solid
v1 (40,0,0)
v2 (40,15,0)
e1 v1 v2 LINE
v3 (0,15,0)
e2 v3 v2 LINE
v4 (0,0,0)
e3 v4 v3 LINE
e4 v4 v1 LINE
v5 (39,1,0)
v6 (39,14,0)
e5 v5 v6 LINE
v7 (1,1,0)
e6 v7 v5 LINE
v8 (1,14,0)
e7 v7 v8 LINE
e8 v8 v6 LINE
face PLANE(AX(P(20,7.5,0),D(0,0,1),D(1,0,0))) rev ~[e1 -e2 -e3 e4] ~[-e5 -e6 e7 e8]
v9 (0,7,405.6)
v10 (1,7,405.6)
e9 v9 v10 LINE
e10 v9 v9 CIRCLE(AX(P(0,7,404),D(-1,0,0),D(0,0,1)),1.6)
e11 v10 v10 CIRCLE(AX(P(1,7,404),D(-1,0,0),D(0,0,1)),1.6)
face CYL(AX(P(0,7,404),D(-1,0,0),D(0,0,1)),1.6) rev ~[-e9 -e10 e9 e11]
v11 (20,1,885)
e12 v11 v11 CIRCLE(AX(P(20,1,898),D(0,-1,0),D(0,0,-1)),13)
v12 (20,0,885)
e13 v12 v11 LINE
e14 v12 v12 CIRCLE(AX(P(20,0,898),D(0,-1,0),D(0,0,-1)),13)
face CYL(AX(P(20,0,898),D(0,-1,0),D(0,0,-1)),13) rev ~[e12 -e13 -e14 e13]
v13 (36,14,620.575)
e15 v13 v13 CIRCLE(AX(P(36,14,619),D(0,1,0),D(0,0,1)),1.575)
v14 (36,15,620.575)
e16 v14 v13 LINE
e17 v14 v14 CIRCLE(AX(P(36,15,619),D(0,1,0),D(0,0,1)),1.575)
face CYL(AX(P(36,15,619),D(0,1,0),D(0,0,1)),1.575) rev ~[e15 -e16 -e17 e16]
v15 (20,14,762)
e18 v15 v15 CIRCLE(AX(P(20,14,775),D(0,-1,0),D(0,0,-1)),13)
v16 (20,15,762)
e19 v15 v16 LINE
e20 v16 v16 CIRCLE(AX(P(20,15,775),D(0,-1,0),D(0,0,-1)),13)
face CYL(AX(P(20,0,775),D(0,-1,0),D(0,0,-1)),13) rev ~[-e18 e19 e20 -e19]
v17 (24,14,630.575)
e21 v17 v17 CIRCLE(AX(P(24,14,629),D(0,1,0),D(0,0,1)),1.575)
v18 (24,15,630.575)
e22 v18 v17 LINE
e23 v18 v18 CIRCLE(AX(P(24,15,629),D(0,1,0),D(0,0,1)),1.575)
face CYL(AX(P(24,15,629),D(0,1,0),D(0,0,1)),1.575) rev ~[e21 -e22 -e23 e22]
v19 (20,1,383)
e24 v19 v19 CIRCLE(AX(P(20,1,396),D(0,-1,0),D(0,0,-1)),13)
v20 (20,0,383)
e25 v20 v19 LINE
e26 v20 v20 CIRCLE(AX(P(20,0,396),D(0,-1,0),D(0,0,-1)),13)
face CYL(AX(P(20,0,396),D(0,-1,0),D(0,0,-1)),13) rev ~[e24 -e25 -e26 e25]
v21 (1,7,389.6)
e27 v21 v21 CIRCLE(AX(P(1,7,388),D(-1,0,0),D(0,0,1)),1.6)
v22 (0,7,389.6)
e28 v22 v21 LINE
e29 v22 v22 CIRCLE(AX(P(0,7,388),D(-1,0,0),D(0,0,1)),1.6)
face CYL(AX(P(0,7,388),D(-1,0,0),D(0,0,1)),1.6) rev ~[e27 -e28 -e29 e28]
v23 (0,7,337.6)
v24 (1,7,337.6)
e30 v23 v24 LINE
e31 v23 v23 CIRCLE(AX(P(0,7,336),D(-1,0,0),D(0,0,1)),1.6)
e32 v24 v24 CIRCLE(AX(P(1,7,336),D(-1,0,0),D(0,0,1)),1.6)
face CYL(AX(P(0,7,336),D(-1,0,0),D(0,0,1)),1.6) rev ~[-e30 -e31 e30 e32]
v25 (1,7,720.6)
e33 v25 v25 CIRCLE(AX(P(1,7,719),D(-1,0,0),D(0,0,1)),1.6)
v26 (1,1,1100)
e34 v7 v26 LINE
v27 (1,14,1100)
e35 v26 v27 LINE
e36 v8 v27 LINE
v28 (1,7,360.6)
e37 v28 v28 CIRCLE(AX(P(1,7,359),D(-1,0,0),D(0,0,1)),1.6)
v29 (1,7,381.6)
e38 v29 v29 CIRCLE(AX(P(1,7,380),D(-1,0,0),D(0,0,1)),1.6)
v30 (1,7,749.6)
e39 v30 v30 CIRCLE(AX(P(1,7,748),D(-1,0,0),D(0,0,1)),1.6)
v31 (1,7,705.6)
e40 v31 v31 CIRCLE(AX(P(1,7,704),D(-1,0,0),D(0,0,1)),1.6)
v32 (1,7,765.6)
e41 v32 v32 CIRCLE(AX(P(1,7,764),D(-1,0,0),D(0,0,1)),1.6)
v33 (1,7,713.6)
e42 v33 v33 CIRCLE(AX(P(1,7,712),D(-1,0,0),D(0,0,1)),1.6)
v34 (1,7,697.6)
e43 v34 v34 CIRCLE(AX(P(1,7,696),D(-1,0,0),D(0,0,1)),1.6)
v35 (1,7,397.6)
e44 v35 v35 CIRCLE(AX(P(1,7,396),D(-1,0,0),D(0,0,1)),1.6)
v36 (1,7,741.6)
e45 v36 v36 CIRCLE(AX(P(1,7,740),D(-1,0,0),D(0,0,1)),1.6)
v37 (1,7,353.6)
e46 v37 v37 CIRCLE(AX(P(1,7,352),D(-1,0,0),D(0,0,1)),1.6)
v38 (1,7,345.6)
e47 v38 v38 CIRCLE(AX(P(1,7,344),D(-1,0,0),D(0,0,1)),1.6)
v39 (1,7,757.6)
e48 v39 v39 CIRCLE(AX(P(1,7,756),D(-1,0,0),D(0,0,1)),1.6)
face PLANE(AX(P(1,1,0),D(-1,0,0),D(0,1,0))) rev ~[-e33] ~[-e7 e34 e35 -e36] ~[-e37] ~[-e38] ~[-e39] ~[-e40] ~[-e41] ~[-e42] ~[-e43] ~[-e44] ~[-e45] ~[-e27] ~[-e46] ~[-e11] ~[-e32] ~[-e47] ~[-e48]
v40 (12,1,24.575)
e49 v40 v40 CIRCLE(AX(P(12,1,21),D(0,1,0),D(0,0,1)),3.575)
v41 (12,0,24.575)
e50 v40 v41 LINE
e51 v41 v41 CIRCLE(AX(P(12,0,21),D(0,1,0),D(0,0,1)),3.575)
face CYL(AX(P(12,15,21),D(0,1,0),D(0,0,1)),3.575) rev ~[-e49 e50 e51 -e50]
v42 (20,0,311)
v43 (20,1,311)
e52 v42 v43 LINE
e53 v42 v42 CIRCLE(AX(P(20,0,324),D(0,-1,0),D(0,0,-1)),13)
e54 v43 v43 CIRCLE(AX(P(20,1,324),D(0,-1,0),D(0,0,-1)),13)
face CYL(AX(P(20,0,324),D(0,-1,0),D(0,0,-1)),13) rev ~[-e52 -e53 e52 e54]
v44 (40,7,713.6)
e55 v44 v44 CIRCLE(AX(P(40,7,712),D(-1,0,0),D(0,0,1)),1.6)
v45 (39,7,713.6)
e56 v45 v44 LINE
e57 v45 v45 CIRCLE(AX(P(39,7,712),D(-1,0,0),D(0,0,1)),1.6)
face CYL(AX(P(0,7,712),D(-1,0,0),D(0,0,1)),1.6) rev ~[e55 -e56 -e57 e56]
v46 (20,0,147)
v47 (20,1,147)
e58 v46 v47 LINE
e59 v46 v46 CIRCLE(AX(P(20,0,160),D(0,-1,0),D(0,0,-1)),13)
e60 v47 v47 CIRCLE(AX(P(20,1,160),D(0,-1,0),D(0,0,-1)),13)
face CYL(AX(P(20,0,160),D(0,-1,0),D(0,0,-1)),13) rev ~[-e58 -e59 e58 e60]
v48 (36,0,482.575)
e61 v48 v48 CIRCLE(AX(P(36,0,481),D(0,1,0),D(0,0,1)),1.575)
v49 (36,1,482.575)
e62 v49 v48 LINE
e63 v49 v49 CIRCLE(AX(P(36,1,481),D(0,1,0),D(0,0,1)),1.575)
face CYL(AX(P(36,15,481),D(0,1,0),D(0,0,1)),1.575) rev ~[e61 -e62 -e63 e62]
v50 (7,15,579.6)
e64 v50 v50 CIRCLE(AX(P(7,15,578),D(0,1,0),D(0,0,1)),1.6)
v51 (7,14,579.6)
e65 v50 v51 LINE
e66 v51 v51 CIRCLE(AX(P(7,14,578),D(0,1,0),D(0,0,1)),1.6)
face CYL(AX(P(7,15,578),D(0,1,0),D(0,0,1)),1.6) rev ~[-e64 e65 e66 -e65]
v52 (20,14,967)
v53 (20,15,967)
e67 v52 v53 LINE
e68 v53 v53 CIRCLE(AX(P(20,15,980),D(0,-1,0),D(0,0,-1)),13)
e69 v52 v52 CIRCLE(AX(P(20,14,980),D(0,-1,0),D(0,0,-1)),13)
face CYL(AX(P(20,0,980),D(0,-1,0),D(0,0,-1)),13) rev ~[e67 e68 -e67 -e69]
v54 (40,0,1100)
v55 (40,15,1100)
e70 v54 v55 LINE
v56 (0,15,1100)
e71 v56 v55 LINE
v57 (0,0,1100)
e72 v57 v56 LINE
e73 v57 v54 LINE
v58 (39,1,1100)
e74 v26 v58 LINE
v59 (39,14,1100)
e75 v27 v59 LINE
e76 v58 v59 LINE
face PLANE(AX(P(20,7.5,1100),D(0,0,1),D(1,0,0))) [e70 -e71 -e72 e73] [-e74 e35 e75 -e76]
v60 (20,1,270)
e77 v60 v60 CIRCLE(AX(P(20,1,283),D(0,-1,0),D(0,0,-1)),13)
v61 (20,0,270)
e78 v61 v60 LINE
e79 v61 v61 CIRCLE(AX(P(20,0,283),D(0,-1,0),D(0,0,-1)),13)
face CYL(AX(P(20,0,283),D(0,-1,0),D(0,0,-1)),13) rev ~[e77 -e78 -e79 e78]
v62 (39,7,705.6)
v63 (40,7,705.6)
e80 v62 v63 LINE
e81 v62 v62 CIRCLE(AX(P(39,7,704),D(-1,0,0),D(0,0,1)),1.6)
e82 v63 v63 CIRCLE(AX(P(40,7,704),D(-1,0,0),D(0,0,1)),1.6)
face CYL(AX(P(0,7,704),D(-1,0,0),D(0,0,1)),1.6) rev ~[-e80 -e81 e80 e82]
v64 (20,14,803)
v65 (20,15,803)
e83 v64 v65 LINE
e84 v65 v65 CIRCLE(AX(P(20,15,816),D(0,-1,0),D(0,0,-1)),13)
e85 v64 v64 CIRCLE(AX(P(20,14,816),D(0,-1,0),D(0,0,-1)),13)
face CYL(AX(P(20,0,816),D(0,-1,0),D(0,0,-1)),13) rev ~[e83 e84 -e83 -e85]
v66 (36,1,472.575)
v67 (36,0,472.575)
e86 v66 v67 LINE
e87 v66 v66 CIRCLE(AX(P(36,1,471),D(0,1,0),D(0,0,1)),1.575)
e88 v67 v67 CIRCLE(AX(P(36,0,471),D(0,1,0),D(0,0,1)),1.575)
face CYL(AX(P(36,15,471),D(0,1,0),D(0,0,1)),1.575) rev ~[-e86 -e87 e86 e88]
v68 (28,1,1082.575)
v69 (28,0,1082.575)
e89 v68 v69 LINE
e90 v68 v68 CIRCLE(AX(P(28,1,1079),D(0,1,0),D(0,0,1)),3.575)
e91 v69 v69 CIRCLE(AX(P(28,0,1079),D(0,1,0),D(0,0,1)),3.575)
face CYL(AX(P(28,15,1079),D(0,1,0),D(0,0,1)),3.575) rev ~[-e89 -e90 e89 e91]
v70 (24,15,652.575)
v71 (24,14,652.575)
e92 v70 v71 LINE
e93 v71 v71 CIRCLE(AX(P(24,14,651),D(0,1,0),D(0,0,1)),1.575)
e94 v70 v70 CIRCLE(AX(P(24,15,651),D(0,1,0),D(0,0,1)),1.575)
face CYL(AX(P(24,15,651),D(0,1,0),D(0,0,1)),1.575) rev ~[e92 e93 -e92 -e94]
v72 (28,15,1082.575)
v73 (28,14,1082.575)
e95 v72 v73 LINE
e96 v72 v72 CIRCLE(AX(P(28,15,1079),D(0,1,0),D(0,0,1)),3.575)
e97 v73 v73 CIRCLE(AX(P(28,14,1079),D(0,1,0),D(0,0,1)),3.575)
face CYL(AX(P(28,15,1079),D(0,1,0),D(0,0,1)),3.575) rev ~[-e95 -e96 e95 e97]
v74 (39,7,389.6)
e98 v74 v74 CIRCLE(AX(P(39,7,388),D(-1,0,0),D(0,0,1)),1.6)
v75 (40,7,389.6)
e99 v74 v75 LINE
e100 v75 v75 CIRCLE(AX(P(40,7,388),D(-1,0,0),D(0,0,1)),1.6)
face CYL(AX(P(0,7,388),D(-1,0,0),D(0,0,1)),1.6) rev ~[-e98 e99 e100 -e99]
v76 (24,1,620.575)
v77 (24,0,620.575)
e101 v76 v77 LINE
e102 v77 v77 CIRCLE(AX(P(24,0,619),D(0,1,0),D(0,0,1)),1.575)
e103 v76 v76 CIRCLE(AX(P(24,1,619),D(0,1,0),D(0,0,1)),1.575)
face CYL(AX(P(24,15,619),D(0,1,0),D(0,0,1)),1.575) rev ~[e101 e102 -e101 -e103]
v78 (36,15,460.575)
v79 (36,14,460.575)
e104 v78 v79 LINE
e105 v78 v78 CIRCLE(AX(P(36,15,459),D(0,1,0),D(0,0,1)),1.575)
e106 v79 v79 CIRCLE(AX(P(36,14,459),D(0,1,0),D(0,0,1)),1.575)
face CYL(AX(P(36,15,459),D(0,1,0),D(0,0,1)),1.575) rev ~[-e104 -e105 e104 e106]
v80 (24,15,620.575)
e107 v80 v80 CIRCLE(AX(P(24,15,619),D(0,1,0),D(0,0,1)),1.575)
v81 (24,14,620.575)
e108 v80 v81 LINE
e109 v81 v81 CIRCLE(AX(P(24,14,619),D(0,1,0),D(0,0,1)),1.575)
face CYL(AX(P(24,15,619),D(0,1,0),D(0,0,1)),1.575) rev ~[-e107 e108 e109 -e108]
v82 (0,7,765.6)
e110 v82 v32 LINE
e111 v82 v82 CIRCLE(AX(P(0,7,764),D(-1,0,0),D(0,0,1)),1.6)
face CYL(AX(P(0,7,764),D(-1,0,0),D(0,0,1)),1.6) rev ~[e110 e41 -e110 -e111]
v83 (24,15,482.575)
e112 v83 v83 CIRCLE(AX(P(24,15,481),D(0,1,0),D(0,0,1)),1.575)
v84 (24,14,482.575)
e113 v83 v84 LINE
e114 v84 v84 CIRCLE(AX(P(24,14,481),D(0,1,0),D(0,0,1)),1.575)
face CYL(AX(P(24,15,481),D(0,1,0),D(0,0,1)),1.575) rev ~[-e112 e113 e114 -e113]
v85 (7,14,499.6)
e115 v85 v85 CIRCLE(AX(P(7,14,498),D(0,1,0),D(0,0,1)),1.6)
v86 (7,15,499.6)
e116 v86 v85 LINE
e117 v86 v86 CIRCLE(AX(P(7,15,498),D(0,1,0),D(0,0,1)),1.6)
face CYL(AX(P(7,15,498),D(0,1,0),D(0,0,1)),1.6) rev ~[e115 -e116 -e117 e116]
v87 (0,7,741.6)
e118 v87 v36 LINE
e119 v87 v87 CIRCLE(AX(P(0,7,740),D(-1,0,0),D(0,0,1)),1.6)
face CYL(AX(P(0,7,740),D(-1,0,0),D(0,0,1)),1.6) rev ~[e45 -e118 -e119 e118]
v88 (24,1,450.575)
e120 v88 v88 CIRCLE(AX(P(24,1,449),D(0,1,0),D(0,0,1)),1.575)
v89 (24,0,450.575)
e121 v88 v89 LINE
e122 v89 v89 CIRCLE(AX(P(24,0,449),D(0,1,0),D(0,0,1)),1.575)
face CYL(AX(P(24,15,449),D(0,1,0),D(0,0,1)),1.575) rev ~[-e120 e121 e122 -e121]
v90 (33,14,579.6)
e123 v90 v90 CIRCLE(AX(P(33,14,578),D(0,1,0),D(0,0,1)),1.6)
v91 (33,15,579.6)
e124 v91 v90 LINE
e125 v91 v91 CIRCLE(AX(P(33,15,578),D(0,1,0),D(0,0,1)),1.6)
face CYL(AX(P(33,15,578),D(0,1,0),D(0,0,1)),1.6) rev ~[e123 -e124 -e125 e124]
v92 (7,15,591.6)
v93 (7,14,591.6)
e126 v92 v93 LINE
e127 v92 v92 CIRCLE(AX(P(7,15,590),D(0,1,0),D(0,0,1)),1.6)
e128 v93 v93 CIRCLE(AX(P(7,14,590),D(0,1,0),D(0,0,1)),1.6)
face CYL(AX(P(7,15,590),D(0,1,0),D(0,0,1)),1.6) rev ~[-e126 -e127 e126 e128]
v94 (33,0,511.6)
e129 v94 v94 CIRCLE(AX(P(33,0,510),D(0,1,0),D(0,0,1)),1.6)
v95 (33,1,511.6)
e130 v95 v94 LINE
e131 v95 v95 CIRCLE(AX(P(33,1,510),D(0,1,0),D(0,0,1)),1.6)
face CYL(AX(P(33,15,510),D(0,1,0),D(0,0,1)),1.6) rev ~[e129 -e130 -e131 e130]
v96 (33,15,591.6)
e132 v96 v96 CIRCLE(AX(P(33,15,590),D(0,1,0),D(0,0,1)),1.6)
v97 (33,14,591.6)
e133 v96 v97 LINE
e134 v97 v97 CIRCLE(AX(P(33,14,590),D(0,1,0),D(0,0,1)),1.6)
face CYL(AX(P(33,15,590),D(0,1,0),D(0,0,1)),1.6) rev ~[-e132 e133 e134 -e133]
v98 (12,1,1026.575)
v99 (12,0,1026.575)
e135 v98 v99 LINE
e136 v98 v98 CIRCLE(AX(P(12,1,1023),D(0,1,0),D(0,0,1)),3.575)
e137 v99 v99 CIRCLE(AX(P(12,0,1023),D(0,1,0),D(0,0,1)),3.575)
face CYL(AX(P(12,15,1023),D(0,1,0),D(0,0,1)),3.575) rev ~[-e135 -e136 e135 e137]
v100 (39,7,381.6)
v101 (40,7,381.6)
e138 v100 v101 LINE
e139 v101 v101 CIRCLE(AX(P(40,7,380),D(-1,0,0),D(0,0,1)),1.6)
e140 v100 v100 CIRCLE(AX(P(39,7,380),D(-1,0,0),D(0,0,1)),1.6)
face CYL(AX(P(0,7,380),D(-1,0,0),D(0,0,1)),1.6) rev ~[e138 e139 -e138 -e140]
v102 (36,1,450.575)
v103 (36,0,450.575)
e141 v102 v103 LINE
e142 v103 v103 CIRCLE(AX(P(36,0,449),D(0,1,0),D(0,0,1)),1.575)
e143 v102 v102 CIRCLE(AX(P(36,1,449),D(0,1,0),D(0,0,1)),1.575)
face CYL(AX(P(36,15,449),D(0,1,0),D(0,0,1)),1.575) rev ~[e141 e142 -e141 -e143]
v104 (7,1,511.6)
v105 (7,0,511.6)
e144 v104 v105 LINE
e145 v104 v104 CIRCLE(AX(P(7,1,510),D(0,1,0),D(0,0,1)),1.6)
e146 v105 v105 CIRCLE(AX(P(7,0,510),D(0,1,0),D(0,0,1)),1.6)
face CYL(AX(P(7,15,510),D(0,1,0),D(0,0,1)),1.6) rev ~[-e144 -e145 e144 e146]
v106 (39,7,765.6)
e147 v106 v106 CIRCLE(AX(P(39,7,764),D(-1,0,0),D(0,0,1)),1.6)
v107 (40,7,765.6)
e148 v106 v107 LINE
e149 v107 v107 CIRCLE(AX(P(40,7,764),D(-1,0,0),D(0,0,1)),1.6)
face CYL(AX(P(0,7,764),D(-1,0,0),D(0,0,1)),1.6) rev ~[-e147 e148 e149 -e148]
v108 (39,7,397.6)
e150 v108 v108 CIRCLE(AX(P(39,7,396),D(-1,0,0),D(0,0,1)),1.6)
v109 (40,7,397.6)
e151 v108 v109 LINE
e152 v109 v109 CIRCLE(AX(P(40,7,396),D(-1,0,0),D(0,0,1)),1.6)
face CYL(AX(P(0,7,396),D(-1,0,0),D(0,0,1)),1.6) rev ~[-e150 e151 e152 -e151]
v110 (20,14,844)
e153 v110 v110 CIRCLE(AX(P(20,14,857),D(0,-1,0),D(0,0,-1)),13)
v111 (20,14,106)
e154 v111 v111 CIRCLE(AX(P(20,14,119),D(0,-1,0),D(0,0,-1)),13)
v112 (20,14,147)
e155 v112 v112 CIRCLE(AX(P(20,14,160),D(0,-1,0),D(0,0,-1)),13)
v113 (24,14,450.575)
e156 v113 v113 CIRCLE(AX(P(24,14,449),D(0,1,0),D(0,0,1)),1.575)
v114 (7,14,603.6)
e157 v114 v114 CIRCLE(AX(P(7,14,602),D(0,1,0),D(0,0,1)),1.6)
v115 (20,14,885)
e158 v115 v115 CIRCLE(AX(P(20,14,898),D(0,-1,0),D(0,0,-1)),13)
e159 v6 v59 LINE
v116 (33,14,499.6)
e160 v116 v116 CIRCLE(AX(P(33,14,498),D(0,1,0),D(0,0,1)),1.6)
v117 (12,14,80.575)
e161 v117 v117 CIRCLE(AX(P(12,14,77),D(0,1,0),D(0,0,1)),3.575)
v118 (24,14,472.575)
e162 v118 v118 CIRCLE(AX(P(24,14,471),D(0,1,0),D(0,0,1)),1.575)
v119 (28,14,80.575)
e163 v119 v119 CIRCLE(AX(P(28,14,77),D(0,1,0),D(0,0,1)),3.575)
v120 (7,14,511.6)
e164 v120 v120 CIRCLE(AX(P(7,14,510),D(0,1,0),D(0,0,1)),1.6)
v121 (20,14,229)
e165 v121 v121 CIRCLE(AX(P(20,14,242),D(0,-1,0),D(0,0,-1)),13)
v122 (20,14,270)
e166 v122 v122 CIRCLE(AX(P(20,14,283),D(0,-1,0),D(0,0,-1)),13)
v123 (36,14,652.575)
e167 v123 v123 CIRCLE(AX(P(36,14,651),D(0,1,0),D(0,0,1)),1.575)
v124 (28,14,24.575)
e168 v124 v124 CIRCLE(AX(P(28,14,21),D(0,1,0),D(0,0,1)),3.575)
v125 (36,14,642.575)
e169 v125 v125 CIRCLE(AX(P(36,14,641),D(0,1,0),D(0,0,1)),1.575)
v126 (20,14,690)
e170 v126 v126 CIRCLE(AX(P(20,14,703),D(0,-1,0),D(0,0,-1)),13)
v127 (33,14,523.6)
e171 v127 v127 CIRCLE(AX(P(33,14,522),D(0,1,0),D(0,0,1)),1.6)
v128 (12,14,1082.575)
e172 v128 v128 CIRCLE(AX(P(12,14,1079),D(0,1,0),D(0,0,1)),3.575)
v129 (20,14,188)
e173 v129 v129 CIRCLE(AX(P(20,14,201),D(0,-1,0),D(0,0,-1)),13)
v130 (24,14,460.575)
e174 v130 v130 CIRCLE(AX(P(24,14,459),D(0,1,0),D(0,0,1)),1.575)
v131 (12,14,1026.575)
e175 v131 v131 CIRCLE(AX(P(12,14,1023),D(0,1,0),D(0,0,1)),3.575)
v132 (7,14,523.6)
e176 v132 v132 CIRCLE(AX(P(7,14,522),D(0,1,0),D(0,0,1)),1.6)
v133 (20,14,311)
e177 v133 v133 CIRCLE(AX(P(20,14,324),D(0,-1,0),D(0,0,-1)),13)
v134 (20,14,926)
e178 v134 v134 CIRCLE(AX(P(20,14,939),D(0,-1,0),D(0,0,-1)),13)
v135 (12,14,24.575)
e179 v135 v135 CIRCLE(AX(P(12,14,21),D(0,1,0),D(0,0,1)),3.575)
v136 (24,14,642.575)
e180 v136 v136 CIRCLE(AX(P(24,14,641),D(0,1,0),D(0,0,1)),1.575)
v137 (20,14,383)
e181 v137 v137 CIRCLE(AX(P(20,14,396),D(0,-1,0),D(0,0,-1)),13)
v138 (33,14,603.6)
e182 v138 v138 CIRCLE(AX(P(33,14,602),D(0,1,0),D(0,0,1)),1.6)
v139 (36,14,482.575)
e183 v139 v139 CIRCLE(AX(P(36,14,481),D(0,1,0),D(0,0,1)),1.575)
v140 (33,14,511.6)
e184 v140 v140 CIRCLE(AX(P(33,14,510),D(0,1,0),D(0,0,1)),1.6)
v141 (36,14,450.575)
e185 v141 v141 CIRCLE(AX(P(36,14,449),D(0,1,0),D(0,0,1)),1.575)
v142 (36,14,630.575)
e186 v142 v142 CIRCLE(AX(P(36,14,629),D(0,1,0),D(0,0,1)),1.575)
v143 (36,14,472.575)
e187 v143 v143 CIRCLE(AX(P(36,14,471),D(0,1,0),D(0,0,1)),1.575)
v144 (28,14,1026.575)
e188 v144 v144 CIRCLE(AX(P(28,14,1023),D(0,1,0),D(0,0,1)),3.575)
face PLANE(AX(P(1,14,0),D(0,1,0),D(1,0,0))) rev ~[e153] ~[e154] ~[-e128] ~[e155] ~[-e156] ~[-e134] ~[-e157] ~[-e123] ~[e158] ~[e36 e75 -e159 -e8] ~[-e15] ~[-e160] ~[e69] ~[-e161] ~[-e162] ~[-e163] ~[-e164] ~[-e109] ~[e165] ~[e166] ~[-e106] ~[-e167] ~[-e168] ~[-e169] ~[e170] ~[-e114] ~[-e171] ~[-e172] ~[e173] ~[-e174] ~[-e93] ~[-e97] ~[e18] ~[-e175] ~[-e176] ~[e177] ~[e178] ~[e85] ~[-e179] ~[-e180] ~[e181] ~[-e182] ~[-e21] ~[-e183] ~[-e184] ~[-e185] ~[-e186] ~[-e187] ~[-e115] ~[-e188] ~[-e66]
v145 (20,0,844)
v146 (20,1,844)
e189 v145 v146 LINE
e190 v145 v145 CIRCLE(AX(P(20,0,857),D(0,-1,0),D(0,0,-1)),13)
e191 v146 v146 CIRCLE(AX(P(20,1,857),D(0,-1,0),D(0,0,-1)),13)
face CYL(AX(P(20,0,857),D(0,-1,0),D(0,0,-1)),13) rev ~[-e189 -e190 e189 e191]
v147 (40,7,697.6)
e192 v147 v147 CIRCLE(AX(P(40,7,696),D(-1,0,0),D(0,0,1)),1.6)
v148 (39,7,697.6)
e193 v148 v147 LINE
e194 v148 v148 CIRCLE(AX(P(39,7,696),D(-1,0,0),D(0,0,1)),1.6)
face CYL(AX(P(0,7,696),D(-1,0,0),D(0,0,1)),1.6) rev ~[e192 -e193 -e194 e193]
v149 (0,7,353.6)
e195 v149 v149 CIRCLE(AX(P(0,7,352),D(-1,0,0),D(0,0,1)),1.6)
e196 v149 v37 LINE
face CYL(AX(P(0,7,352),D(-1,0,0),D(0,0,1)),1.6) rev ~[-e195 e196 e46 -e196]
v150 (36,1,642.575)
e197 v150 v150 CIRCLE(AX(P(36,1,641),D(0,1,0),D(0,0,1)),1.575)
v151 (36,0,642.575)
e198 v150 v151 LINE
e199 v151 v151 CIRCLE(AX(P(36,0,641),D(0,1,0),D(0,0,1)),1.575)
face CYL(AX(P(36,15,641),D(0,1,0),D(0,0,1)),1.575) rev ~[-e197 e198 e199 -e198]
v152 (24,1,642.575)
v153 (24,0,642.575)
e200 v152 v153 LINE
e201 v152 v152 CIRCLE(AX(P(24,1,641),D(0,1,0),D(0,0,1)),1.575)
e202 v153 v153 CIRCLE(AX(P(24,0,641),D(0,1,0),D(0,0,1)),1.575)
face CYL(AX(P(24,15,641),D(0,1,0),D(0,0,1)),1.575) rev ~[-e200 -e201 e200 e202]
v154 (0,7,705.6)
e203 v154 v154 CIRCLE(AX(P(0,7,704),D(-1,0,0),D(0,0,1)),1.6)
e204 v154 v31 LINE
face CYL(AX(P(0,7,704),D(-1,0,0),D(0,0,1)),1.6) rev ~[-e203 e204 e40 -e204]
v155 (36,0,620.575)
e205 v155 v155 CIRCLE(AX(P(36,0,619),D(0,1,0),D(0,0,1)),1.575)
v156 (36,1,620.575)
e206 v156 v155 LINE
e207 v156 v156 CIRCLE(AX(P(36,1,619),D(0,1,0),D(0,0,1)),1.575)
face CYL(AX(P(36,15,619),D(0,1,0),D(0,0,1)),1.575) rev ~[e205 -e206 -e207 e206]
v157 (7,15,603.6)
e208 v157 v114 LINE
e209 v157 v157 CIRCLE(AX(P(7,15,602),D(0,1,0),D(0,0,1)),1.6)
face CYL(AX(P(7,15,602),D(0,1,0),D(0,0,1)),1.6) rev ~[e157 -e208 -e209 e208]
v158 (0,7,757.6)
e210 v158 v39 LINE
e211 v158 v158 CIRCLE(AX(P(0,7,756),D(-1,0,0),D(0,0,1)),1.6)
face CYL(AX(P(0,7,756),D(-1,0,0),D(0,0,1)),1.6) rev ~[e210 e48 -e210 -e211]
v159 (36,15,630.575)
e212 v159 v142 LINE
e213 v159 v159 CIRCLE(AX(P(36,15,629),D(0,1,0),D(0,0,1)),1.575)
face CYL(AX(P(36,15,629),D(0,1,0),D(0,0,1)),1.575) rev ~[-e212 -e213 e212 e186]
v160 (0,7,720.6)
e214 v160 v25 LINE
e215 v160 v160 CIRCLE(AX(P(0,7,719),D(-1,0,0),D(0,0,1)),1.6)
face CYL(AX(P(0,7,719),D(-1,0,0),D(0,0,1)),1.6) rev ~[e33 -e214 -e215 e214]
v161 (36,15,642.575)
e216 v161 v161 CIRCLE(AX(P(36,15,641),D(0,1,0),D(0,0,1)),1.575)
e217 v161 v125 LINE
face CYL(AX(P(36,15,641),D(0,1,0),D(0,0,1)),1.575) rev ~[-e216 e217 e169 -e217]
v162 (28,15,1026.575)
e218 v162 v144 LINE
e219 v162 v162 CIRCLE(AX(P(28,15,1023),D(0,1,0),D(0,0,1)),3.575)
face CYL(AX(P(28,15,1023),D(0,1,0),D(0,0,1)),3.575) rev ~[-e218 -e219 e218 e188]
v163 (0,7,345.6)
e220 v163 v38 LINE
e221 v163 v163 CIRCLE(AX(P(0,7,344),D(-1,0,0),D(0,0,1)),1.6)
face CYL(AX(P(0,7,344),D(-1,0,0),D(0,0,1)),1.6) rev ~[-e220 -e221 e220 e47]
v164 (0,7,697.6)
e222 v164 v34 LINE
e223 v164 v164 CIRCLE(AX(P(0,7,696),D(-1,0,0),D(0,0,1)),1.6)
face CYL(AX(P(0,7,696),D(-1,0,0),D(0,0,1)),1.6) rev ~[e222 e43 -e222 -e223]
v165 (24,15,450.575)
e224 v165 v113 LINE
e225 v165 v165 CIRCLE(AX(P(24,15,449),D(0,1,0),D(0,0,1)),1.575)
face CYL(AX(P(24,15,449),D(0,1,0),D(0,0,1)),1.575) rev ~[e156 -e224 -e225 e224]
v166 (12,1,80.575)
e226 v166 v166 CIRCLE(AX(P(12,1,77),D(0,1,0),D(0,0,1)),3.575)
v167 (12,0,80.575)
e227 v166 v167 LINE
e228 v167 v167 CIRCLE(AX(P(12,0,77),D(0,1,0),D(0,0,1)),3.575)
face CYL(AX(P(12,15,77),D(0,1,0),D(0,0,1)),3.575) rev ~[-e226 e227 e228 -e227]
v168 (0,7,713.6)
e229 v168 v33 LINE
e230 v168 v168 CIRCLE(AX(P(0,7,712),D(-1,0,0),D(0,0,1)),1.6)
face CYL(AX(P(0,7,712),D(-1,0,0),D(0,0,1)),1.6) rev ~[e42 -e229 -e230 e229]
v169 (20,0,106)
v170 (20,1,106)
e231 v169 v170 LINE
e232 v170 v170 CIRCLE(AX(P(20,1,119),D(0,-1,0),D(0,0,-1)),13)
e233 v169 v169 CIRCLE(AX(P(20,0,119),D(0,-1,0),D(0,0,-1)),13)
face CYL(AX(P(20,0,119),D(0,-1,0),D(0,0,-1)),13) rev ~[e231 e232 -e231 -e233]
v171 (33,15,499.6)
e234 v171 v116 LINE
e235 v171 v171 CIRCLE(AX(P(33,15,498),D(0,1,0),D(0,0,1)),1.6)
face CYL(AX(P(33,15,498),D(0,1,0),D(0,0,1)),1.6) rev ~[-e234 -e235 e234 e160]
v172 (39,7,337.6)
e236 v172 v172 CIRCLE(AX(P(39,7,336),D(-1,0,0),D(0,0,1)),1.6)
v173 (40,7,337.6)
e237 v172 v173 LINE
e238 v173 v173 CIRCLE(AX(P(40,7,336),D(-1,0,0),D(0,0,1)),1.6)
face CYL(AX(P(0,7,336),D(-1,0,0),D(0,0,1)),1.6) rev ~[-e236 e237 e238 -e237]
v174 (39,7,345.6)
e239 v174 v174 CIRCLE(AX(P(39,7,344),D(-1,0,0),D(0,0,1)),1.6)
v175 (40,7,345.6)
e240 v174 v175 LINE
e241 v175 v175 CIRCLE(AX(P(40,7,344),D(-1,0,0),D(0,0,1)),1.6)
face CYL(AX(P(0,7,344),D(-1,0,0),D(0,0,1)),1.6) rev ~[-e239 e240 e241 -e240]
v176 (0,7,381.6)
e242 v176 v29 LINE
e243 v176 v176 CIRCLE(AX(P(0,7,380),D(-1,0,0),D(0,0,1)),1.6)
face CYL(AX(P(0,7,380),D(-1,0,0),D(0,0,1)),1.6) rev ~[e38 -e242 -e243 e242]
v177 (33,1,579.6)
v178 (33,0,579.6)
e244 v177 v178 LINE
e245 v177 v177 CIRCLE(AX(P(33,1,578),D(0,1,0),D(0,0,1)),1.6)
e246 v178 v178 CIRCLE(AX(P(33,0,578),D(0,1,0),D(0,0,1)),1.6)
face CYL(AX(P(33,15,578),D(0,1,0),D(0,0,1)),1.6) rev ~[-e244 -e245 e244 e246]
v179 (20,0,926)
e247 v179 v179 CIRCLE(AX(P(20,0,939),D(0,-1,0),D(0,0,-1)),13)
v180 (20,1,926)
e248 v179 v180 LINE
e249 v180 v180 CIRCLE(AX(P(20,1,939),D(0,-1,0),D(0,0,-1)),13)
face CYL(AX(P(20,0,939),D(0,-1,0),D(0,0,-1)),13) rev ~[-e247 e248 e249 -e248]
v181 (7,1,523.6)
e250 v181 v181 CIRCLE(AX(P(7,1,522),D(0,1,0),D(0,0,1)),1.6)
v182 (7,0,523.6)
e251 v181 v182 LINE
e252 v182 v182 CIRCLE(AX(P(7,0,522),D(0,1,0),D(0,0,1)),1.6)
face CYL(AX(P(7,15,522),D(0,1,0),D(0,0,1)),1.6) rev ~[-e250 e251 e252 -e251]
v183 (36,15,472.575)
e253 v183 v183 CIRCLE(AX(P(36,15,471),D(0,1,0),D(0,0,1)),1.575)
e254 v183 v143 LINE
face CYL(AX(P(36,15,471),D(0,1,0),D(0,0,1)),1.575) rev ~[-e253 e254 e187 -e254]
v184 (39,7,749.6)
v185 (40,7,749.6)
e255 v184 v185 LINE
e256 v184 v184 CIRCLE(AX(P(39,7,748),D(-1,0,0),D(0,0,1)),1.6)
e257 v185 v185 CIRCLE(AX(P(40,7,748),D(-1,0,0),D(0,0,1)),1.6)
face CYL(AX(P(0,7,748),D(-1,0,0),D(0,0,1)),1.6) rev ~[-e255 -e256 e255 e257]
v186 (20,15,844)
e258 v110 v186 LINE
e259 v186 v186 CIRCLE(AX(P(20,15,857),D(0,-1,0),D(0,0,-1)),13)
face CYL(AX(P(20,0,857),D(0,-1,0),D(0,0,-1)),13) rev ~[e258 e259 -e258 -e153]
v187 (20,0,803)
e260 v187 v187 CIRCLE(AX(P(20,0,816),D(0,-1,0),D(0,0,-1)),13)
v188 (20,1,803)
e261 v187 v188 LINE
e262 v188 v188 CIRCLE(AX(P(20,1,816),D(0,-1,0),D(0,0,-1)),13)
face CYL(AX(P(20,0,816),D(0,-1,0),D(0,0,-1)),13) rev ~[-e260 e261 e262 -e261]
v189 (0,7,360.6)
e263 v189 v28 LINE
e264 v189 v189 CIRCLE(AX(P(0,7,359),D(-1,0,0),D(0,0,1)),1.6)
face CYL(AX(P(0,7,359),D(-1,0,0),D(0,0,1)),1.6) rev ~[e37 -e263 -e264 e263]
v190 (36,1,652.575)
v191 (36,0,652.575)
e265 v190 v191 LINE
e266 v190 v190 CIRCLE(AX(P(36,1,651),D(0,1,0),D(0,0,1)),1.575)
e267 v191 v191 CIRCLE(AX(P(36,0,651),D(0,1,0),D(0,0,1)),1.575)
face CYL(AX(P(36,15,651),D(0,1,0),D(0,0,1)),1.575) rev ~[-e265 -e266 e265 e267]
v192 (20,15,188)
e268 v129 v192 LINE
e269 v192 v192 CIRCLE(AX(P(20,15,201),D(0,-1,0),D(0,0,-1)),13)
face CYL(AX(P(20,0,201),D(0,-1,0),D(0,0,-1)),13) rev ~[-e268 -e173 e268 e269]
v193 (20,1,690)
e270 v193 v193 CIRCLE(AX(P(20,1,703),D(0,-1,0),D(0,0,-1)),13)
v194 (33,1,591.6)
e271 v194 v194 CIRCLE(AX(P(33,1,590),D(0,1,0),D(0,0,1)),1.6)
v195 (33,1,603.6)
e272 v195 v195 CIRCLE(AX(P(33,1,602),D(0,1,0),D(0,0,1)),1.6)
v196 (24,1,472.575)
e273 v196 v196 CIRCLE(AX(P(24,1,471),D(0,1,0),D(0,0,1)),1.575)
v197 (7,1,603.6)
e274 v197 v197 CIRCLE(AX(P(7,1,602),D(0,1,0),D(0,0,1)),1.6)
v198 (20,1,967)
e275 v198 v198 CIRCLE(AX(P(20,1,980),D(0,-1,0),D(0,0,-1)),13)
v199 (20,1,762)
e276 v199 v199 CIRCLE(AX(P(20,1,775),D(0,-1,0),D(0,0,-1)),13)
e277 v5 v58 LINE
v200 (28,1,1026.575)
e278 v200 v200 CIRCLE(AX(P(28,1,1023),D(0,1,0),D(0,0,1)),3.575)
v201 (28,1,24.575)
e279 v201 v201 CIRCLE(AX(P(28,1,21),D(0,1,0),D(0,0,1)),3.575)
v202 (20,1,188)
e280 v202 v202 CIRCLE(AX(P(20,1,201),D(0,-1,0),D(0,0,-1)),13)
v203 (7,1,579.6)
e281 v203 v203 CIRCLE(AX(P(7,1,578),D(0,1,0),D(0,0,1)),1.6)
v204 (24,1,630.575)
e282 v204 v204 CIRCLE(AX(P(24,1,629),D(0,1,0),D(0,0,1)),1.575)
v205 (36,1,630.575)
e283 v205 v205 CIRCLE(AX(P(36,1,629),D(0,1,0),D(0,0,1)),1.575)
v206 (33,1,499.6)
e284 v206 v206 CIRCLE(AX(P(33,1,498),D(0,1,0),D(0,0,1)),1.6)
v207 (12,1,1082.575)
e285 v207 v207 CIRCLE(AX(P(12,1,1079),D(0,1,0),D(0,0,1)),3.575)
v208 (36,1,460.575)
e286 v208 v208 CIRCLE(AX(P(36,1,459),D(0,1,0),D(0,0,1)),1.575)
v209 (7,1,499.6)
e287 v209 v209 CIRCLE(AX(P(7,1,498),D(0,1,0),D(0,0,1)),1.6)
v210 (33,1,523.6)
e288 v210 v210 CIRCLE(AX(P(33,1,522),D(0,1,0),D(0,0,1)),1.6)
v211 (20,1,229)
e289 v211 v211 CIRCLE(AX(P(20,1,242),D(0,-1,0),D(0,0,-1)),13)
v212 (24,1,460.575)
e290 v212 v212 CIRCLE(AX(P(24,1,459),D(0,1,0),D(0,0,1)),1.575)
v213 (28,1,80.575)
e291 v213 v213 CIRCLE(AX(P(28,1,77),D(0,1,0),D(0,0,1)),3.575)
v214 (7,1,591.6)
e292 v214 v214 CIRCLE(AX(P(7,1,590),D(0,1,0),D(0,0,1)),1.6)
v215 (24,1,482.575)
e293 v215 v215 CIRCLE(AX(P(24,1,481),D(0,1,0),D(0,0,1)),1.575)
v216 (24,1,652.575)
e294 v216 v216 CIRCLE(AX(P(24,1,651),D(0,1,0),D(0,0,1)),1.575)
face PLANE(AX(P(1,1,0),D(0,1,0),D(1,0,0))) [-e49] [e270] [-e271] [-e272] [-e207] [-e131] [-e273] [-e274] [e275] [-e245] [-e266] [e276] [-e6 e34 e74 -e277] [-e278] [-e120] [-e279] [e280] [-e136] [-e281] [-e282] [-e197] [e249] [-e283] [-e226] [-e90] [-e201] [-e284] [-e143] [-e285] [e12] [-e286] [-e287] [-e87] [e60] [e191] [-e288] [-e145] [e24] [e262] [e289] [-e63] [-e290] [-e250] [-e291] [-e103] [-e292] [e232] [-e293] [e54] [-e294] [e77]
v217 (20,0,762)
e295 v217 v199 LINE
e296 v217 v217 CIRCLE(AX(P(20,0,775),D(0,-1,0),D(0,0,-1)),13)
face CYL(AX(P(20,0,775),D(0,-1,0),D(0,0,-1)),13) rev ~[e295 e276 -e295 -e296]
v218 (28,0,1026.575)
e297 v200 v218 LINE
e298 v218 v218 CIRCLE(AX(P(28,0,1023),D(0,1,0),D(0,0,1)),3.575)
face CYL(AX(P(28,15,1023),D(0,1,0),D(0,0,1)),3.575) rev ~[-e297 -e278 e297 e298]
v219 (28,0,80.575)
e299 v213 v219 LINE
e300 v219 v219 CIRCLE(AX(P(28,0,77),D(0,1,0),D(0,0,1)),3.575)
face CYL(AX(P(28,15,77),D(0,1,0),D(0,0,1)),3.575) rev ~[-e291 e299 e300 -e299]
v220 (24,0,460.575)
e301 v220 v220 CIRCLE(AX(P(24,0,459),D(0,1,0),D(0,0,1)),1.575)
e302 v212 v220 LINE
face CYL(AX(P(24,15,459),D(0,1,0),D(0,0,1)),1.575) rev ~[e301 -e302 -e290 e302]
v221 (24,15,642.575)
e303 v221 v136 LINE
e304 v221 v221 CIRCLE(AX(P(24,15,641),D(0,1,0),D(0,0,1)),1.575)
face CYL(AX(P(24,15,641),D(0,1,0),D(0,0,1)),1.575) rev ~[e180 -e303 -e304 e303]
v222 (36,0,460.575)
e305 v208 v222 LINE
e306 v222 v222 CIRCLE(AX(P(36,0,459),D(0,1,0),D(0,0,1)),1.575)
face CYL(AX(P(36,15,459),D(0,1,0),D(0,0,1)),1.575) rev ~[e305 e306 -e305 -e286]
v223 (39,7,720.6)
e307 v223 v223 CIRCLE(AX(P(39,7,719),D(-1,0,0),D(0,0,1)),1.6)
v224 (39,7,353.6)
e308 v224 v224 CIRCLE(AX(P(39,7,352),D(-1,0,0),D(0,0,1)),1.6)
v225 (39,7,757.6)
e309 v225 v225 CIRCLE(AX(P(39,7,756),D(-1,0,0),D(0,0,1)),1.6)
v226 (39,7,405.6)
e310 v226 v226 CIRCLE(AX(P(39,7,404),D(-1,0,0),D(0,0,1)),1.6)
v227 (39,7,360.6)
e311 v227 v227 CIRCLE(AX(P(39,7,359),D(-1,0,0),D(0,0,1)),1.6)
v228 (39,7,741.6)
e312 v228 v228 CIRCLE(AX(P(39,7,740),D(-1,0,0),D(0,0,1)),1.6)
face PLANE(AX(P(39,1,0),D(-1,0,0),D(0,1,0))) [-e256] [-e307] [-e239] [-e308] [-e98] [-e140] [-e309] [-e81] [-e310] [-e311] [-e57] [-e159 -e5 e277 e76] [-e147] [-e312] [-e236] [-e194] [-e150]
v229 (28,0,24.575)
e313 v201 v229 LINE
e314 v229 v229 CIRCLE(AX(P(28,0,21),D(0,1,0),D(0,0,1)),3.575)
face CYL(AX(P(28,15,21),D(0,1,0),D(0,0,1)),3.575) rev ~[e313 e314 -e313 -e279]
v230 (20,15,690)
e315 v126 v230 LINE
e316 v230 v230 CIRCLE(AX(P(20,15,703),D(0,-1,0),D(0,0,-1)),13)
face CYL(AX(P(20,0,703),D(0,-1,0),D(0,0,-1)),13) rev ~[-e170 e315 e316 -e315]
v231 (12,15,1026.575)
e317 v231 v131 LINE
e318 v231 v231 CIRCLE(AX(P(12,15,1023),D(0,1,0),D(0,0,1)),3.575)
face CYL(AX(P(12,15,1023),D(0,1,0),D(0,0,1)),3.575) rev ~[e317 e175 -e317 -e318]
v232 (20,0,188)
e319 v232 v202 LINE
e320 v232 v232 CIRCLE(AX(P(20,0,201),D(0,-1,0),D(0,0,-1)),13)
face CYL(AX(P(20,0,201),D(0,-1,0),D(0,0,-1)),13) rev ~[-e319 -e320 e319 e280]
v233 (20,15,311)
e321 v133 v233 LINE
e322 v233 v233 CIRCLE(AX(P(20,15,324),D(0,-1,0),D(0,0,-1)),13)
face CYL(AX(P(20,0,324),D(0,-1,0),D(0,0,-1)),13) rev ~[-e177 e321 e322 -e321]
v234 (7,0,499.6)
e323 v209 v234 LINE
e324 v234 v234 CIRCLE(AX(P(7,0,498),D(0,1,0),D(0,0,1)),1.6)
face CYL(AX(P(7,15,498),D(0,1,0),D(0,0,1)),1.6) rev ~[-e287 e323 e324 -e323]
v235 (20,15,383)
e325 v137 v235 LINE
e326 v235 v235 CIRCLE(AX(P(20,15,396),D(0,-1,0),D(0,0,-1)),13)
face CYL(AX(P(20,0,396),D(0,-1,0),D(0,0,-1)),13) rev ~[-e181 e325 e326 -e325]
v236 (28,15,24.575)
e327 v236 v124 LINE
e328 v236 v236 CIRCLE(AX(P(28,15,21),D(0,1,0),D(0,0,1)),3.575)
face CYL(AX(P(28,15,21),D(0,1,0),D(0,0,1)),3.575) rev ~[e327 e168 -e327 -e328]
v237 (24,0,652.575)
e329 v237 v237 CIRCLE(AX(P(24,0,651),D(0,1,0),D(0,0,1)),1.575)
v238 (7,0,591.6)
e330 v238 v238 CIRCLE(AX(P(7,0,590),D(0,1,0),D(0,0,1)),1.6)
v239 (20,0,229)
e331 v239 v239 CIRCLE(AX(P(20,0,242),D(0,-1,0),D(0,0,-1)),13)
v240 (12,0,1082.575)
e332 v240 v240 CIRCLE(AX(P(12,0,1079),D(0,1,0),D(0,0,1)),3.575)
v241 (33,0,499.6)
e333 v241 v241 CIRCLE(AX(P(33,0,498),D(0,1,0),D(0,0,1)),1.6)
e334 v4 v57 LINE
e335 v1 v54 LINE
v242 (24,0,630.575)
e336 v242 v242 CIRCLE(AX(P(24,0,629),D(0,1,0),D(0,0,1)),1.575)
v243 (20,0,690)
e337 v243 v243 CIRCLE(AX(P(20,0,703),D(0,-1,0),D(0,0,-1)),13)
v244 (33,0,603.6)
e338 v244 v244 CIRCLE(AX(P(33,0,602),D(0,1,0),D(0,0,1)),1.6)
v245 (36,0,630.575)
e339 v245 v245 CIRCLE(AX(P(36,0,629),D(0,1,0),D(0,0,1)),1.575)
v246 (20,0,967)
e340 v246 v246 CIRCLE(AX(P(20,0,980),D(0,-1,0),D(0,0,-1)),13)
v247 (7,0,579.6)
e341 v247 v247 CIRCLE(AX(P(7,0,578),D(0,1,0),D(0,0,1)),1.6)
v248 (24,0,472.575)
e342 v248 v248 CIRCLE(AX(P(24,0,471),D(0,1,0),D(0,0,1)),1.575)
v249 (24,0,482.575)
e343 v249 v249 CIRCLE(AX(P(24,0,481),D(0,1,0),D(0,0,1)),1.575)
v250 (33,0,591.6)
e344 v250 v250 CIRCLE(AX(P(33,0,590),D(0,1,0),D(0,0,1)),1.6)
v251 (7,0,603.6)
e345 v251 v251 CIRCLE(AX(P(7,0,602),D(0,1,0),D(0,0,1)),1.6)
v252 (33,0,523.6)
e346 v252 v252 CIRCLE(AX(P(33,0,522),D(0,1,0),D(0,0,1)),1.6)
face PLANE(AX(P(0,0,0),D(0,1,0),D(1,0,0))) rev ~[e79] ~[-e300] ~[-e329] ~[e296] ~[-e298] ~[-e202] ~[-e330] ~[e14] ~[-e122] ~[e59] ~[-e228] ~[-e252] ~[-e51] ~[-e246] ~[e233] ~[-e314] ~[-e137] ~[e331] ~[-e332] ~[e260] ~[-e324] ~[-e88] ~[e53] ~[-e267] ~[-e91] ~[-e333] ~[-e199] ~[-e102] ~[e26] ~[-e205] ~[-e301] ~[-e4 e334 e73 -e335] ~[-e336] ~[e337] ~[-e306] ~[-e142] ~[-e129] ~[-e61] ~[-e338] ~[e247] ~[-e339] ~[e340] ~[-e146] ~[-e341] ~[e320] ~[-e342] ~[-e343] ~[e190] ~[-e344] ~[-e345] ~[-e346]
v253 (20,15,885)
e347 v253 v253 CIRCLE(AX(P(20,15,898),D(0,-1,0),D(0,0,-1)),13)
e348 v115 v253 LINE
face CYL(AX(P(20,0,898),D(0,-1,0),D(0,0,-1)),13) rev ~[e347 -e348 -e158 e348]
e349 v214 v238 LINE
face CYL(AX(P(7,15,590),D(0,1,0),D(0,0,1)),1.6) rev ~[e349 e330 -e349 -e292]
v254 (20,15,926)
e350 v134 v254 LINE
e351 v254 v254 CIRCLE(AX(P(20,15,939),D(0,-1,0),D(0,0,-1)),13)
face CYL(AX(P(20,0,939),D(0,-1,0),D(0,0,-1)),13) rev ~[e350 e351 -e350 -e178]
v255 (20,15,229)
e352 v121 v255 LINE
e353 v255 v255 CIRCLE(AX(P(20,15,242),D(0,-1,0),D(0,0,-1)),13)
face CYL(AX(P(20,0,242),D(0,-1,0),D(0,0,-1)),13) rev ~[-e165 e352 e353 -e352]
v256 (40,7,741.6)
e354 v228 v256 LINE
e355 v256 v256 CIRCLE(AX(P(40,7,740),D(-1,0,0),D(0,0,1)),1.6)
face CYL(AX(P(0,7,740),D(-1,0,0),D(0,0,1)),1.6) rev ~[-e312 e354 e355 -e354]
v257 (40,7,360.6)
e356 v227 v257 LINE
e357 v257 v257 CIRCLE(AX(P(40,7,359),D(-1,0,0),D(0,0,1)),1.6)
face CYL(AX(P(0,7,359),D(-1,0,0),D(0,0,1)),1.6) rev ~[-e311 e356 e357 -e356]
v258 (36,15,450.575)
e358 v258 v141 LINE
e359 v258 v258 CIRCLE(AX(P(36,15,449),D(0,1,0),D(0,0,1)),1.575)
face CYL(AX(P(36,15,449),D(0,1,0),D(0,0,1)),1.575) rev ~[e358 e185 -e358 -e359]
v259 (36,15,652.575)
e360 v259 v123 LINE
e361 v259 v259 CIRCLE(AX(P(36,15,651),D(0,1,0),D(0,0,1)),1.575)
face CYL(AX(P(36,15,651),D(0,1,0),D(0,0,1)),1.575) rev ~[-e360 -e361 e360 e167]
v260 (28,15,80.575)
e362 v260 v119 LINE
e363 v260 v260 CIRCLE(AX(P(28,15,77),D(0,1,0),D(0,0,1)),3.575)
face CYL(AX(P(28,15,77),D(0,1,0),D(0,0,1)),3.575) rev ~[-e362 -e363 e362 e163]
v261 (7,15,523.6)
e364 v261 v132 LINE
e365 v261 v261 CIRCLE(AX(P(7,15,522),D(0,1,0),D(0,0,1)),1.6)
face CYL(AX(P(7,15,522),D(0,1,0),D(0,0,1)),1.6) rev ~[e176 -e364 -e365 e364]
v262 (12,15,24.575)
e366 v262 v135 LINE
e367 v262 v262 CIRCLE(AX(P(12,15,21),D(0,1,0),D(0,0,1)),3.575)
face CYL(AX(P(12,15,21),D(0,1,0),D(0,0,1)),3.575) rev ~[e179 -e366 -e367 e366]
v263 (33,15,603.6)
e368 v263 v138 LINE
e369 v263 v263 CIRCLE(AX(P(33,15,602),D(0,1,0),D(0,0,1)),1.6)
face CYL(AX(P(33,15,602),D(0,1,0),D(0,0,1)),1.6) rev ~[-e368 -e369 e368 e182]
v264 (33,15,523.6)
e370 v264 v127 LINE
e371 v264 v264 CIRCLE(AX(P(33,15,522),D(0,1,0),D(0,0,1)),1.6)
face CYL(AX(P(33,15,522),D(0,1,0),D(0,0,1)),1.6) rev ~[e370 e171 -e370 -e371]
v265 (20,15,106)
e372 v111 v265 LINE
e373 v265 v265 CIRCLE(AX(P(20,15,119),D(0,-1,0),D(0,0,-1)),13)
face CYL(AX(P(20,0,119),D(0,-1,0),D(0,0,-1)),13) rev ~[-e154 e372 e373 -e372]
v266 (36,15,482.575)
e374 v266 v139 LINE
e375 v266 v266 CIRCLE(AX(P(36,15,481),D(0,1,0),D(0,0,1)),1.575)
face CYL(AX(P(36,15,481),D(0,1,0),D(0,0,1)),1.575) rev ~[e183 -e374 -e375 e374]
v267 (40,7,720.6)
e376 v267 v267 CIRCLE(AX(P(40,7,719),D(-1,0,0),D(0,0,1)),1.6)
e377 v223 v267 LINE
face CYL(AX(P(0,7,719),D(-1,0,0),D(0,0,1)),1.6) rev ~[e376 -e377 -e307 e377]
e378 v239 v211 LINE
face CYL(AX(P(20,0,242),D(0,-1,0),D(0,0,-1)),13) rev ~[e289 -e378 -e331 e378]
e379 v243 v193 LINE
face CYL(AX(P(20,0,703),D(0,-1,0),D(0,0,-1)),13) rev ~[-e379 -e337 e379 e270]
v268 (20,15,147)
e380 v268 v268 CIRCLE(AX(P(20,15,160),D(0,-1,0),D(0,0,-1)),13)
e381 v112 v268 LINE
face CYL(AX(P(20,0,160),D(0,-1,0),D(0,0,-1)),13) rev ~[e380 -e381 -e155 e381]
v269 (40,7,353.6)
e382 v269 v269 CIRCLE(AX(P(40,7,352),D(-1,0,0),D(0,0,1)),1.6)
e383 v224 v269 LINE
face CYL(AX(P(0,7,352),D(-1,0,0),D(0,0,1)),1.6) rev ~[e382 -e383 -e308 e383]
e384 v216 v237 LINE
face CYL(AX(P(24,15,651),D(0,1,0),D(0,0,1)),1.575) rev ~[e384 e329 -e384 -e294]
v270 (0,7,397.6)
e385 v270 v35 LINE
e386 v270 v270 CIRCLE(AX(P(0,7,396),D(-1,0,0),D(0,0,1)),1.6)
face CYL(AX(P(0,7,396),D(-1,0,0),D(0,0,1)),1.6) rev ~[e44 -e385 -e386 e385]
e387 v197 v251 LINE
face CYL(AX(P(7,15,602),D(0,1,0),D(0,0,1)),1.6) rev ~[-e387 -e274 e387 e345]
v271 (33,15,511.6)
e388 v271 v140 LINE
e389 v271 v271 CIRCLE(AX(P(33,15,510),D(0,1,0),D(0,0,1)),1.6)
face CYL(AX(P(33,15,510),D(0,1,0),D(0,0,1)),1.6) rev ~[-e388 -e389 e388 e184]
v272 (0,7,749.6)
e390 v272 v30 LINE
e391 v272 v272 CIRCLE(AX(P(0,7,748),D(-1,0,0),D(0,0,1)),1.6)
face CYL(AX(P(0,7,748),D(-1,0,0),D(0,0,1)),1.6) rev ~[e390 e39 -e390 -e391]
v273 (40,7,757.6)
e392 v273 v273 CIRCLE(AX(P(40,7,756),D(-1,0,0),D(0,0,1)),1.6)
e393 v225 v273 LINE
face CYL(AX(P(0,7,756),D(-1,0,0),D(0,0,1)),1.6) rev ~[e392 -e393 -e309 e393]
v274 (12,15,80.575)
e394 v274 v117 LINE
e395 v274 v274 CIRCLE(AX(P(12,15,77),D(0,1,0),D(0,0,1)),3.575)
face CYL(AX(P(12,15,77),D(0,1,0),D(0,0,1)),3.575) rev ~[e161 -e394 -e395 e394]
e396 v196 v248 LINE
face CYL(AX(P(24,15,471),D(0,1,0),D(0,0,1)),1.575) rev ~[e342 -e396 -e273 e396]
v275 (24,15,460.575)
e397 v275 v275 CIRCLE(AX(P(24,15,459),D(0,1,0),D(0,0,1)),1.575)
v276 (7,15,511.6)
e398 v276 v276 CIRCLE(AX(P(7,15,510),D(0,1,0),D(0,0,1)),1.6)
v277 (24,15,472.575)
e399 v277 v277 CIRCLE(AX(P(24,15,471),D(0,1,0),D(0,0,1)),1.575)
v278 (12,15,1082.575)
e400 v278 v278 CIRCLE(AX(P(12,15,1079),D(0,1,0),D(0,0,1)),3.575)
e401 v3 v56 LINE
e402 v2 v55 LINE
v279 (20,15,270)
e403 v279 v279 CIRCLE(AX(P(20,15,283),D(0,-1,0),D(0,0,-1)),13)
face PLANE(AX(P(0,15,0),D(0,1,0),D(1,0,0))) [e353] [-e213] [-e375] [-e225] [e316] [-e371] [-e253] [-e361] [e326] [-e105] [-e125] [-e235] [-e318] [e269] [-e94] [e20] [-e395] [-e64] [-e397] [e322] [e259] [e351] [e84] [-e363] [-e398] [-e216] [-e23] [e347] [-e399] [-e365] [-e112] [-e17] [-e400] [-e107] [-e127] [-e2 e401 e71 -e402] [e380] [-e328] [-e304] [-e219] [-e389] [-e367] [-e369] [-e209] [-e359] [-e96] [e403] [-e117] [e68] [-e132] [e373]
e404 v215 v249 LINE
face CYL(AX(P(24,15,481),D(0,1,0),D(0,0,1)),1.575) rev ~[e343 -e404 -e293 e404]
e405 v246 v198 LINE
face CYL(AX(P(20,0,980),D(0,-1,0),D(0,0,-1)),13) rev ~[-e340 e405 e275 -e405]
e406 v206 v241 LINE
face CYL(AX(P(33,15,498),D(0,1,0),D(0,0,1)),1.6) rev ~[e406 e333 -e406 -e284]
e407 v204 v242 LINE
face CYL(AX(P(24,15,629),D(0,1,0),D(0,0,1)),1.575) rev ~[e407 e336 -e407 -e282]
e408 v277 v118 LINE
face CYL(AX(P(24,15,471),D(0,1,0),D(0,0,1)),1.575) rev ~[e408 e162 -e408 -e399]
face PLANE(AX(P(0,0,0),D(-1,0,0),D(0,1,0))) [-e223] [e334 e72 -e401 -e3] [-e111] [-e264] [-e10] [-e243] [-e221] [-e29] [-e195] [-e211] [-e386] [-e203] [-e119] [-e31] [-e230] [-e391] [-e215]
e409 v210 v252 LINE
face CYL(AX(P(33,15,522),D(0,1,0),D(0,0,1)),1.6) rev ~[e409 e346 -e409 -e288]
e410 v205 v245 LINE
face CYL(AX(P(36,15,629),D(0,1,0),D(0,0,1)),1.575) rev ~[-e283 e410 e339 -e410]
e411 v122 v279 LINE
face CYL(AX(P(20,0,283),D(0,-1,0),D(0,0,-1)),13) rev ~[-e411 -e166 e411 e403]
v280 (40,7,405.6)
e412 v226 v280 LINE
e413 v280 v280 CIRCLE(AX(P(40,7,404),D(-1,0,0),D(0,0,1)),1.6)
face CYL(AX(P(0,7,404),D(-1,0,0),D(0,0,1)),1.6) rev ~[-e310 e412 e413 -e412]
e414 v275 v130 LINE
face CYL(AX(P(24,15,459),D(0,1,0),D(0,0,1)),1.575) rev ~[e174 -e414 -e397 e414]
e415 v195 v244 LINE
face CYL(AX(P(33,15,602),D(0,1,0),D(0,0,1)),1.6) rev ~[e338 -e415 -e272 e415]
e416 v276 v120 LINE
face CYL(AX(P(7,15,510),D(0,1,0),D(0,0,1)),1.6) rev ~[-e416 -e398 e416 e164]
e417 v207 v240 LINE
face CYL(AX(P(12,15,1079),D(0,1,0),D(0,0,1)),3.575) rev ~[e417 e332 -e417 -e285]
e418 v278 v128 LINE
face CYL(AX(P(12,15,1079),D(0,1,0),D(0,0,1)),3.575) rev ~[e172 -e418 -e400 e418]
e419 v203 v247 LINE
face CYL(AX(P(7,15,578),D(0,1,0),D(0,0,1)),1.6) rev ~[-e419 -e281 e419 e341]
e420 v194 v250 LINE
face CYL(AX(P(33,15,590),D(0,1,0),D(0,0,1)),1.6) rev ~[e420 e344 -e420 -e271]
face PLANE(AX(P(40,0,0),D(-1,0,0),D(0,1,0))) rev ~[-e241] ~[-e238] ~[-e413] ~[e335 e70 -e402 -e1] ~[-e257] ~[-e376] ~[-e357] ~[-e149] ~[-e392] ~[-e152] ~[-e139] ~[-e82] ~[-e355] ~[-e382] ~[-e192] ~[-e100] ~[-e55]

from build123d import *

# Parameters (mm, degrees)
SKETCH_1_W          = 40
SKETCH_1_H          = 15
SKETCH_1_W_2        = 38
SKETCH_1_H_2        = 13
EXTRUDE_1_DEPTH     = 1100
SKETCH_2_R          = 3.575
SKETCH_2_R_2        = 1.6
CUT_EXTRUDE_1_DEPTH = 1101.829232897
SKETCH_3_R          = 1.575
CUT_EXTRUDE_2_DEPTH = 1101.829232897
SKETCH_6_R          = 13
CUT_EXTRUDE_4_DEPTH = 1101.829232897
SKETCH_7_R          = 1.6
CUT_EXTRUDE_5_DEPTH = 1101.829232897


with BuildPart() as part:
    # 草图1 → 凸台-拉伸1 (new body)
    with BuildSketch(Plane.XY):
        with Locations((20, 7.5)):
            Rectangle(SKETCH_1_W, SKETCH_1_H)
        with Locations((20, 7.5)):
            Rectangle(SKETCH_1_W_2, SKETCH_1_H_2, mode=Mode.SUBTRACT)
    extrude(amount=EXTRUDE_1_DEPTH)

    # 草图2 → 切除-拉伸1 (cut, through all)
    with BuildSketch(Plane(origin=(0, 15, 0), x_dir=(1, 0, 0), z_dir=(0, 1, 0))):
        with Locations((12, -21)):
            Circle(SKETCH_2_R)
        with Locations((28, -21)):
            Circle(SKETCH_2_R)
        with Locations((33, -498)):
            Circle(SKETCH_2_R_2)
        with Locations((7, -522)):
            Circle(SKETCH_2_R_2)
        with Locations((33, -522)):
            Circle(SKETCH_2_R_2)
        with Locations((7, -590)):
            Circle(SKETCH_2_R_2)
        with Locations((7, -510)):
            Circle(SKETCH_2_R_2)
        with Locations((33, -590)):
            Circle(SKETCH_2_R_2)
        with Locations((33, -510)):
            Circle(SKETCH_2_R_2)
        with Locations((7, -602)):
            Circle(SKETCH_2_R_2)
        with Locations((33, -602)):
            Circle(SKETCH_2_R_2)
        with Locations((7, -498)):
            Circle(SKETCH_2_R_2)
        with Locations((7, -578)):
            Circle(SKETCH_2_R_2)
        with Locations((33, -578)):
            Circle(SKETCH_2_R_2)
        with Locations((12, -77)):
            Circle(SKETCH_2_R)
        with Locations((28, -77)):
            Circle(SKETCH_2_R)
        with Locations((12, -1023)):
            Circle(SKETCH_2_R)
        with Locations((28, -1023)):
            Circle(SKETCH_2_R)
        with Locations((28, -1079)):
            Circle(SKETCH_2_R)
        with Locations((12, -1079)):
            Circle(SKETCH_2_R)
    extrude(amount=-CUT_EXTRUDE_1_DEPTH, mode=Mode.SUBTRACT)

    # 草图3 → 切除-拉伸2 (cut, through all)
    with BuildSketch(Plane(origin=(0, 15, 0), x_dir=(1, 0, 0), z_dir=(0, 1, 0))):
        with Locations((24, -629)):
            Circle(SKETCH_3_R)
        with Locations((36, -629)):
            Circle(SKETCH_3_R)
        with Locations((24, -619)):
            Circle(SKETCH_3_R)
        with Locations((36, -619)):
            Circle(SKETCH_3_R)
        with Locations((36, -641)):
            Circle(SKETCH_3_R)
        with Locations((24, -641)):
            Circle(SKETCH_3_R)
        with Locations((24, -651)):
            Circle(SKETCH_3_R)
        with Locations((36, -651)):
            Circle(SKETCH_3_R)
        with Locations((24, -471)):
            Circle(SKETCH_3_R)
        with Locations((36, -471)):
            Circle(SKETCH_3_R)
        with Locations((24, -481)):
            Circle(SKETCH_3_R)
        with Locations((36, -481)):
            Circle(SKETCH_3_R)
        with Locations((36, -459)):
            Circle(SKETCH_3_R)
        with Locations((24, -459)):
            Circle(SKETCH_3_R)
        with Locations((24, -449)):
            Circle(SKETCH_3_R)
        with Locations((36, -449)):
            Circle(SKETCH_3_R)
    extrude(amount=-CUT_EXTRUDE_2_DEPTH, mode=Mode.SUBTRACT)

    # 草图6 → 切除-拉伸4 (cut, through all)
    with BuildSketch(Plane.XZ):
        with Locations((20, 980)):
            Circle(SKETCH_6_R)
        with Locations((20, 939)):
            Circle(SKETCH_6_R)
        with Locations((20, 898)):
            Circle(SKETCH_6_R)
        with Locations((20, 857)):
            Circle(SKETCH_6_R)
        with Locations((20, 816)):
            Circle(SKETCH_6_R)
        with Locations((20, 775)):
            Circle(SKETCH_6_R)
        with Locations((20, 324)):
            Circle(SKETCH_6_R)
        with Locations((20, 283)):
            Circle(SKETCH_6_R)
        with Locations((20, 242)):
            Circle(SKETCH_6_R)
        with Locations((20, 201)):
            Circle(SKETCH_6_R)
        with Locations((20, 160)):
            Circle(SKETCH_6_R)
        with Locations((20, 119)):
            Circle(SKETCH_6_R)
        with Locations((20, 703)):
            Circle(SKETCH_6_R)
        with Locations((20, 396)):
            Circle(SKETCH_6_R)
    extrude(amount=-CUT_EXTRUDE_4_DEPTH, mode=Mode.SUBTRACT)

    # 草图7 → 切除-拉伸5 (cut, through all)
    with BuildSketch(Plane.ZY):
        with Locations((336, 7)):
            Circle(SKETCH_7_R)
        with Locations((380, 7)):
            Circle(SKETCH_7_R)
        with Locations((388, 7)):
            Circle(SKETCH_7_R)
        with Locations((396, 7)):
            Circle(SKETCH_7_R)
        with Locations((404, 7)):
            Circle(SKETCH_7_R)
        with Locations((359, 7)):
            Circle(SKETCH_7_R)
        with Locations((352, 7)):
            Circle(SKETCH_7_R)
        with Locations((344, 7)):
            Circle(SKETCH_7_R)
        with Locations((696, 7)):
            Circle(SKETCH_7_R)
        with Locations((740, 7)):
            Circle(SKETCH_7_R)
        with Locations((748, 7)):
            Circle(SKETCH_7_R)
        with Locations((756, 7)):
            Circle(SKETCH_7_R)
        with Locations((764, 7)):
            Circle(SKETCH_7_R)
        with Locations((719, 7)):
            Circle(SKETCH_7_R)
        with Locations((712, 7)):
            Circle(SKETCH_7_R)
        with Locations((704, 7)):
            Circle(SKETCH_7_R)
    extrude(amount=-CUT_EXTRUDE_5_DEPTH, mode=Mode.SUBTRACT)


solid = part.part
